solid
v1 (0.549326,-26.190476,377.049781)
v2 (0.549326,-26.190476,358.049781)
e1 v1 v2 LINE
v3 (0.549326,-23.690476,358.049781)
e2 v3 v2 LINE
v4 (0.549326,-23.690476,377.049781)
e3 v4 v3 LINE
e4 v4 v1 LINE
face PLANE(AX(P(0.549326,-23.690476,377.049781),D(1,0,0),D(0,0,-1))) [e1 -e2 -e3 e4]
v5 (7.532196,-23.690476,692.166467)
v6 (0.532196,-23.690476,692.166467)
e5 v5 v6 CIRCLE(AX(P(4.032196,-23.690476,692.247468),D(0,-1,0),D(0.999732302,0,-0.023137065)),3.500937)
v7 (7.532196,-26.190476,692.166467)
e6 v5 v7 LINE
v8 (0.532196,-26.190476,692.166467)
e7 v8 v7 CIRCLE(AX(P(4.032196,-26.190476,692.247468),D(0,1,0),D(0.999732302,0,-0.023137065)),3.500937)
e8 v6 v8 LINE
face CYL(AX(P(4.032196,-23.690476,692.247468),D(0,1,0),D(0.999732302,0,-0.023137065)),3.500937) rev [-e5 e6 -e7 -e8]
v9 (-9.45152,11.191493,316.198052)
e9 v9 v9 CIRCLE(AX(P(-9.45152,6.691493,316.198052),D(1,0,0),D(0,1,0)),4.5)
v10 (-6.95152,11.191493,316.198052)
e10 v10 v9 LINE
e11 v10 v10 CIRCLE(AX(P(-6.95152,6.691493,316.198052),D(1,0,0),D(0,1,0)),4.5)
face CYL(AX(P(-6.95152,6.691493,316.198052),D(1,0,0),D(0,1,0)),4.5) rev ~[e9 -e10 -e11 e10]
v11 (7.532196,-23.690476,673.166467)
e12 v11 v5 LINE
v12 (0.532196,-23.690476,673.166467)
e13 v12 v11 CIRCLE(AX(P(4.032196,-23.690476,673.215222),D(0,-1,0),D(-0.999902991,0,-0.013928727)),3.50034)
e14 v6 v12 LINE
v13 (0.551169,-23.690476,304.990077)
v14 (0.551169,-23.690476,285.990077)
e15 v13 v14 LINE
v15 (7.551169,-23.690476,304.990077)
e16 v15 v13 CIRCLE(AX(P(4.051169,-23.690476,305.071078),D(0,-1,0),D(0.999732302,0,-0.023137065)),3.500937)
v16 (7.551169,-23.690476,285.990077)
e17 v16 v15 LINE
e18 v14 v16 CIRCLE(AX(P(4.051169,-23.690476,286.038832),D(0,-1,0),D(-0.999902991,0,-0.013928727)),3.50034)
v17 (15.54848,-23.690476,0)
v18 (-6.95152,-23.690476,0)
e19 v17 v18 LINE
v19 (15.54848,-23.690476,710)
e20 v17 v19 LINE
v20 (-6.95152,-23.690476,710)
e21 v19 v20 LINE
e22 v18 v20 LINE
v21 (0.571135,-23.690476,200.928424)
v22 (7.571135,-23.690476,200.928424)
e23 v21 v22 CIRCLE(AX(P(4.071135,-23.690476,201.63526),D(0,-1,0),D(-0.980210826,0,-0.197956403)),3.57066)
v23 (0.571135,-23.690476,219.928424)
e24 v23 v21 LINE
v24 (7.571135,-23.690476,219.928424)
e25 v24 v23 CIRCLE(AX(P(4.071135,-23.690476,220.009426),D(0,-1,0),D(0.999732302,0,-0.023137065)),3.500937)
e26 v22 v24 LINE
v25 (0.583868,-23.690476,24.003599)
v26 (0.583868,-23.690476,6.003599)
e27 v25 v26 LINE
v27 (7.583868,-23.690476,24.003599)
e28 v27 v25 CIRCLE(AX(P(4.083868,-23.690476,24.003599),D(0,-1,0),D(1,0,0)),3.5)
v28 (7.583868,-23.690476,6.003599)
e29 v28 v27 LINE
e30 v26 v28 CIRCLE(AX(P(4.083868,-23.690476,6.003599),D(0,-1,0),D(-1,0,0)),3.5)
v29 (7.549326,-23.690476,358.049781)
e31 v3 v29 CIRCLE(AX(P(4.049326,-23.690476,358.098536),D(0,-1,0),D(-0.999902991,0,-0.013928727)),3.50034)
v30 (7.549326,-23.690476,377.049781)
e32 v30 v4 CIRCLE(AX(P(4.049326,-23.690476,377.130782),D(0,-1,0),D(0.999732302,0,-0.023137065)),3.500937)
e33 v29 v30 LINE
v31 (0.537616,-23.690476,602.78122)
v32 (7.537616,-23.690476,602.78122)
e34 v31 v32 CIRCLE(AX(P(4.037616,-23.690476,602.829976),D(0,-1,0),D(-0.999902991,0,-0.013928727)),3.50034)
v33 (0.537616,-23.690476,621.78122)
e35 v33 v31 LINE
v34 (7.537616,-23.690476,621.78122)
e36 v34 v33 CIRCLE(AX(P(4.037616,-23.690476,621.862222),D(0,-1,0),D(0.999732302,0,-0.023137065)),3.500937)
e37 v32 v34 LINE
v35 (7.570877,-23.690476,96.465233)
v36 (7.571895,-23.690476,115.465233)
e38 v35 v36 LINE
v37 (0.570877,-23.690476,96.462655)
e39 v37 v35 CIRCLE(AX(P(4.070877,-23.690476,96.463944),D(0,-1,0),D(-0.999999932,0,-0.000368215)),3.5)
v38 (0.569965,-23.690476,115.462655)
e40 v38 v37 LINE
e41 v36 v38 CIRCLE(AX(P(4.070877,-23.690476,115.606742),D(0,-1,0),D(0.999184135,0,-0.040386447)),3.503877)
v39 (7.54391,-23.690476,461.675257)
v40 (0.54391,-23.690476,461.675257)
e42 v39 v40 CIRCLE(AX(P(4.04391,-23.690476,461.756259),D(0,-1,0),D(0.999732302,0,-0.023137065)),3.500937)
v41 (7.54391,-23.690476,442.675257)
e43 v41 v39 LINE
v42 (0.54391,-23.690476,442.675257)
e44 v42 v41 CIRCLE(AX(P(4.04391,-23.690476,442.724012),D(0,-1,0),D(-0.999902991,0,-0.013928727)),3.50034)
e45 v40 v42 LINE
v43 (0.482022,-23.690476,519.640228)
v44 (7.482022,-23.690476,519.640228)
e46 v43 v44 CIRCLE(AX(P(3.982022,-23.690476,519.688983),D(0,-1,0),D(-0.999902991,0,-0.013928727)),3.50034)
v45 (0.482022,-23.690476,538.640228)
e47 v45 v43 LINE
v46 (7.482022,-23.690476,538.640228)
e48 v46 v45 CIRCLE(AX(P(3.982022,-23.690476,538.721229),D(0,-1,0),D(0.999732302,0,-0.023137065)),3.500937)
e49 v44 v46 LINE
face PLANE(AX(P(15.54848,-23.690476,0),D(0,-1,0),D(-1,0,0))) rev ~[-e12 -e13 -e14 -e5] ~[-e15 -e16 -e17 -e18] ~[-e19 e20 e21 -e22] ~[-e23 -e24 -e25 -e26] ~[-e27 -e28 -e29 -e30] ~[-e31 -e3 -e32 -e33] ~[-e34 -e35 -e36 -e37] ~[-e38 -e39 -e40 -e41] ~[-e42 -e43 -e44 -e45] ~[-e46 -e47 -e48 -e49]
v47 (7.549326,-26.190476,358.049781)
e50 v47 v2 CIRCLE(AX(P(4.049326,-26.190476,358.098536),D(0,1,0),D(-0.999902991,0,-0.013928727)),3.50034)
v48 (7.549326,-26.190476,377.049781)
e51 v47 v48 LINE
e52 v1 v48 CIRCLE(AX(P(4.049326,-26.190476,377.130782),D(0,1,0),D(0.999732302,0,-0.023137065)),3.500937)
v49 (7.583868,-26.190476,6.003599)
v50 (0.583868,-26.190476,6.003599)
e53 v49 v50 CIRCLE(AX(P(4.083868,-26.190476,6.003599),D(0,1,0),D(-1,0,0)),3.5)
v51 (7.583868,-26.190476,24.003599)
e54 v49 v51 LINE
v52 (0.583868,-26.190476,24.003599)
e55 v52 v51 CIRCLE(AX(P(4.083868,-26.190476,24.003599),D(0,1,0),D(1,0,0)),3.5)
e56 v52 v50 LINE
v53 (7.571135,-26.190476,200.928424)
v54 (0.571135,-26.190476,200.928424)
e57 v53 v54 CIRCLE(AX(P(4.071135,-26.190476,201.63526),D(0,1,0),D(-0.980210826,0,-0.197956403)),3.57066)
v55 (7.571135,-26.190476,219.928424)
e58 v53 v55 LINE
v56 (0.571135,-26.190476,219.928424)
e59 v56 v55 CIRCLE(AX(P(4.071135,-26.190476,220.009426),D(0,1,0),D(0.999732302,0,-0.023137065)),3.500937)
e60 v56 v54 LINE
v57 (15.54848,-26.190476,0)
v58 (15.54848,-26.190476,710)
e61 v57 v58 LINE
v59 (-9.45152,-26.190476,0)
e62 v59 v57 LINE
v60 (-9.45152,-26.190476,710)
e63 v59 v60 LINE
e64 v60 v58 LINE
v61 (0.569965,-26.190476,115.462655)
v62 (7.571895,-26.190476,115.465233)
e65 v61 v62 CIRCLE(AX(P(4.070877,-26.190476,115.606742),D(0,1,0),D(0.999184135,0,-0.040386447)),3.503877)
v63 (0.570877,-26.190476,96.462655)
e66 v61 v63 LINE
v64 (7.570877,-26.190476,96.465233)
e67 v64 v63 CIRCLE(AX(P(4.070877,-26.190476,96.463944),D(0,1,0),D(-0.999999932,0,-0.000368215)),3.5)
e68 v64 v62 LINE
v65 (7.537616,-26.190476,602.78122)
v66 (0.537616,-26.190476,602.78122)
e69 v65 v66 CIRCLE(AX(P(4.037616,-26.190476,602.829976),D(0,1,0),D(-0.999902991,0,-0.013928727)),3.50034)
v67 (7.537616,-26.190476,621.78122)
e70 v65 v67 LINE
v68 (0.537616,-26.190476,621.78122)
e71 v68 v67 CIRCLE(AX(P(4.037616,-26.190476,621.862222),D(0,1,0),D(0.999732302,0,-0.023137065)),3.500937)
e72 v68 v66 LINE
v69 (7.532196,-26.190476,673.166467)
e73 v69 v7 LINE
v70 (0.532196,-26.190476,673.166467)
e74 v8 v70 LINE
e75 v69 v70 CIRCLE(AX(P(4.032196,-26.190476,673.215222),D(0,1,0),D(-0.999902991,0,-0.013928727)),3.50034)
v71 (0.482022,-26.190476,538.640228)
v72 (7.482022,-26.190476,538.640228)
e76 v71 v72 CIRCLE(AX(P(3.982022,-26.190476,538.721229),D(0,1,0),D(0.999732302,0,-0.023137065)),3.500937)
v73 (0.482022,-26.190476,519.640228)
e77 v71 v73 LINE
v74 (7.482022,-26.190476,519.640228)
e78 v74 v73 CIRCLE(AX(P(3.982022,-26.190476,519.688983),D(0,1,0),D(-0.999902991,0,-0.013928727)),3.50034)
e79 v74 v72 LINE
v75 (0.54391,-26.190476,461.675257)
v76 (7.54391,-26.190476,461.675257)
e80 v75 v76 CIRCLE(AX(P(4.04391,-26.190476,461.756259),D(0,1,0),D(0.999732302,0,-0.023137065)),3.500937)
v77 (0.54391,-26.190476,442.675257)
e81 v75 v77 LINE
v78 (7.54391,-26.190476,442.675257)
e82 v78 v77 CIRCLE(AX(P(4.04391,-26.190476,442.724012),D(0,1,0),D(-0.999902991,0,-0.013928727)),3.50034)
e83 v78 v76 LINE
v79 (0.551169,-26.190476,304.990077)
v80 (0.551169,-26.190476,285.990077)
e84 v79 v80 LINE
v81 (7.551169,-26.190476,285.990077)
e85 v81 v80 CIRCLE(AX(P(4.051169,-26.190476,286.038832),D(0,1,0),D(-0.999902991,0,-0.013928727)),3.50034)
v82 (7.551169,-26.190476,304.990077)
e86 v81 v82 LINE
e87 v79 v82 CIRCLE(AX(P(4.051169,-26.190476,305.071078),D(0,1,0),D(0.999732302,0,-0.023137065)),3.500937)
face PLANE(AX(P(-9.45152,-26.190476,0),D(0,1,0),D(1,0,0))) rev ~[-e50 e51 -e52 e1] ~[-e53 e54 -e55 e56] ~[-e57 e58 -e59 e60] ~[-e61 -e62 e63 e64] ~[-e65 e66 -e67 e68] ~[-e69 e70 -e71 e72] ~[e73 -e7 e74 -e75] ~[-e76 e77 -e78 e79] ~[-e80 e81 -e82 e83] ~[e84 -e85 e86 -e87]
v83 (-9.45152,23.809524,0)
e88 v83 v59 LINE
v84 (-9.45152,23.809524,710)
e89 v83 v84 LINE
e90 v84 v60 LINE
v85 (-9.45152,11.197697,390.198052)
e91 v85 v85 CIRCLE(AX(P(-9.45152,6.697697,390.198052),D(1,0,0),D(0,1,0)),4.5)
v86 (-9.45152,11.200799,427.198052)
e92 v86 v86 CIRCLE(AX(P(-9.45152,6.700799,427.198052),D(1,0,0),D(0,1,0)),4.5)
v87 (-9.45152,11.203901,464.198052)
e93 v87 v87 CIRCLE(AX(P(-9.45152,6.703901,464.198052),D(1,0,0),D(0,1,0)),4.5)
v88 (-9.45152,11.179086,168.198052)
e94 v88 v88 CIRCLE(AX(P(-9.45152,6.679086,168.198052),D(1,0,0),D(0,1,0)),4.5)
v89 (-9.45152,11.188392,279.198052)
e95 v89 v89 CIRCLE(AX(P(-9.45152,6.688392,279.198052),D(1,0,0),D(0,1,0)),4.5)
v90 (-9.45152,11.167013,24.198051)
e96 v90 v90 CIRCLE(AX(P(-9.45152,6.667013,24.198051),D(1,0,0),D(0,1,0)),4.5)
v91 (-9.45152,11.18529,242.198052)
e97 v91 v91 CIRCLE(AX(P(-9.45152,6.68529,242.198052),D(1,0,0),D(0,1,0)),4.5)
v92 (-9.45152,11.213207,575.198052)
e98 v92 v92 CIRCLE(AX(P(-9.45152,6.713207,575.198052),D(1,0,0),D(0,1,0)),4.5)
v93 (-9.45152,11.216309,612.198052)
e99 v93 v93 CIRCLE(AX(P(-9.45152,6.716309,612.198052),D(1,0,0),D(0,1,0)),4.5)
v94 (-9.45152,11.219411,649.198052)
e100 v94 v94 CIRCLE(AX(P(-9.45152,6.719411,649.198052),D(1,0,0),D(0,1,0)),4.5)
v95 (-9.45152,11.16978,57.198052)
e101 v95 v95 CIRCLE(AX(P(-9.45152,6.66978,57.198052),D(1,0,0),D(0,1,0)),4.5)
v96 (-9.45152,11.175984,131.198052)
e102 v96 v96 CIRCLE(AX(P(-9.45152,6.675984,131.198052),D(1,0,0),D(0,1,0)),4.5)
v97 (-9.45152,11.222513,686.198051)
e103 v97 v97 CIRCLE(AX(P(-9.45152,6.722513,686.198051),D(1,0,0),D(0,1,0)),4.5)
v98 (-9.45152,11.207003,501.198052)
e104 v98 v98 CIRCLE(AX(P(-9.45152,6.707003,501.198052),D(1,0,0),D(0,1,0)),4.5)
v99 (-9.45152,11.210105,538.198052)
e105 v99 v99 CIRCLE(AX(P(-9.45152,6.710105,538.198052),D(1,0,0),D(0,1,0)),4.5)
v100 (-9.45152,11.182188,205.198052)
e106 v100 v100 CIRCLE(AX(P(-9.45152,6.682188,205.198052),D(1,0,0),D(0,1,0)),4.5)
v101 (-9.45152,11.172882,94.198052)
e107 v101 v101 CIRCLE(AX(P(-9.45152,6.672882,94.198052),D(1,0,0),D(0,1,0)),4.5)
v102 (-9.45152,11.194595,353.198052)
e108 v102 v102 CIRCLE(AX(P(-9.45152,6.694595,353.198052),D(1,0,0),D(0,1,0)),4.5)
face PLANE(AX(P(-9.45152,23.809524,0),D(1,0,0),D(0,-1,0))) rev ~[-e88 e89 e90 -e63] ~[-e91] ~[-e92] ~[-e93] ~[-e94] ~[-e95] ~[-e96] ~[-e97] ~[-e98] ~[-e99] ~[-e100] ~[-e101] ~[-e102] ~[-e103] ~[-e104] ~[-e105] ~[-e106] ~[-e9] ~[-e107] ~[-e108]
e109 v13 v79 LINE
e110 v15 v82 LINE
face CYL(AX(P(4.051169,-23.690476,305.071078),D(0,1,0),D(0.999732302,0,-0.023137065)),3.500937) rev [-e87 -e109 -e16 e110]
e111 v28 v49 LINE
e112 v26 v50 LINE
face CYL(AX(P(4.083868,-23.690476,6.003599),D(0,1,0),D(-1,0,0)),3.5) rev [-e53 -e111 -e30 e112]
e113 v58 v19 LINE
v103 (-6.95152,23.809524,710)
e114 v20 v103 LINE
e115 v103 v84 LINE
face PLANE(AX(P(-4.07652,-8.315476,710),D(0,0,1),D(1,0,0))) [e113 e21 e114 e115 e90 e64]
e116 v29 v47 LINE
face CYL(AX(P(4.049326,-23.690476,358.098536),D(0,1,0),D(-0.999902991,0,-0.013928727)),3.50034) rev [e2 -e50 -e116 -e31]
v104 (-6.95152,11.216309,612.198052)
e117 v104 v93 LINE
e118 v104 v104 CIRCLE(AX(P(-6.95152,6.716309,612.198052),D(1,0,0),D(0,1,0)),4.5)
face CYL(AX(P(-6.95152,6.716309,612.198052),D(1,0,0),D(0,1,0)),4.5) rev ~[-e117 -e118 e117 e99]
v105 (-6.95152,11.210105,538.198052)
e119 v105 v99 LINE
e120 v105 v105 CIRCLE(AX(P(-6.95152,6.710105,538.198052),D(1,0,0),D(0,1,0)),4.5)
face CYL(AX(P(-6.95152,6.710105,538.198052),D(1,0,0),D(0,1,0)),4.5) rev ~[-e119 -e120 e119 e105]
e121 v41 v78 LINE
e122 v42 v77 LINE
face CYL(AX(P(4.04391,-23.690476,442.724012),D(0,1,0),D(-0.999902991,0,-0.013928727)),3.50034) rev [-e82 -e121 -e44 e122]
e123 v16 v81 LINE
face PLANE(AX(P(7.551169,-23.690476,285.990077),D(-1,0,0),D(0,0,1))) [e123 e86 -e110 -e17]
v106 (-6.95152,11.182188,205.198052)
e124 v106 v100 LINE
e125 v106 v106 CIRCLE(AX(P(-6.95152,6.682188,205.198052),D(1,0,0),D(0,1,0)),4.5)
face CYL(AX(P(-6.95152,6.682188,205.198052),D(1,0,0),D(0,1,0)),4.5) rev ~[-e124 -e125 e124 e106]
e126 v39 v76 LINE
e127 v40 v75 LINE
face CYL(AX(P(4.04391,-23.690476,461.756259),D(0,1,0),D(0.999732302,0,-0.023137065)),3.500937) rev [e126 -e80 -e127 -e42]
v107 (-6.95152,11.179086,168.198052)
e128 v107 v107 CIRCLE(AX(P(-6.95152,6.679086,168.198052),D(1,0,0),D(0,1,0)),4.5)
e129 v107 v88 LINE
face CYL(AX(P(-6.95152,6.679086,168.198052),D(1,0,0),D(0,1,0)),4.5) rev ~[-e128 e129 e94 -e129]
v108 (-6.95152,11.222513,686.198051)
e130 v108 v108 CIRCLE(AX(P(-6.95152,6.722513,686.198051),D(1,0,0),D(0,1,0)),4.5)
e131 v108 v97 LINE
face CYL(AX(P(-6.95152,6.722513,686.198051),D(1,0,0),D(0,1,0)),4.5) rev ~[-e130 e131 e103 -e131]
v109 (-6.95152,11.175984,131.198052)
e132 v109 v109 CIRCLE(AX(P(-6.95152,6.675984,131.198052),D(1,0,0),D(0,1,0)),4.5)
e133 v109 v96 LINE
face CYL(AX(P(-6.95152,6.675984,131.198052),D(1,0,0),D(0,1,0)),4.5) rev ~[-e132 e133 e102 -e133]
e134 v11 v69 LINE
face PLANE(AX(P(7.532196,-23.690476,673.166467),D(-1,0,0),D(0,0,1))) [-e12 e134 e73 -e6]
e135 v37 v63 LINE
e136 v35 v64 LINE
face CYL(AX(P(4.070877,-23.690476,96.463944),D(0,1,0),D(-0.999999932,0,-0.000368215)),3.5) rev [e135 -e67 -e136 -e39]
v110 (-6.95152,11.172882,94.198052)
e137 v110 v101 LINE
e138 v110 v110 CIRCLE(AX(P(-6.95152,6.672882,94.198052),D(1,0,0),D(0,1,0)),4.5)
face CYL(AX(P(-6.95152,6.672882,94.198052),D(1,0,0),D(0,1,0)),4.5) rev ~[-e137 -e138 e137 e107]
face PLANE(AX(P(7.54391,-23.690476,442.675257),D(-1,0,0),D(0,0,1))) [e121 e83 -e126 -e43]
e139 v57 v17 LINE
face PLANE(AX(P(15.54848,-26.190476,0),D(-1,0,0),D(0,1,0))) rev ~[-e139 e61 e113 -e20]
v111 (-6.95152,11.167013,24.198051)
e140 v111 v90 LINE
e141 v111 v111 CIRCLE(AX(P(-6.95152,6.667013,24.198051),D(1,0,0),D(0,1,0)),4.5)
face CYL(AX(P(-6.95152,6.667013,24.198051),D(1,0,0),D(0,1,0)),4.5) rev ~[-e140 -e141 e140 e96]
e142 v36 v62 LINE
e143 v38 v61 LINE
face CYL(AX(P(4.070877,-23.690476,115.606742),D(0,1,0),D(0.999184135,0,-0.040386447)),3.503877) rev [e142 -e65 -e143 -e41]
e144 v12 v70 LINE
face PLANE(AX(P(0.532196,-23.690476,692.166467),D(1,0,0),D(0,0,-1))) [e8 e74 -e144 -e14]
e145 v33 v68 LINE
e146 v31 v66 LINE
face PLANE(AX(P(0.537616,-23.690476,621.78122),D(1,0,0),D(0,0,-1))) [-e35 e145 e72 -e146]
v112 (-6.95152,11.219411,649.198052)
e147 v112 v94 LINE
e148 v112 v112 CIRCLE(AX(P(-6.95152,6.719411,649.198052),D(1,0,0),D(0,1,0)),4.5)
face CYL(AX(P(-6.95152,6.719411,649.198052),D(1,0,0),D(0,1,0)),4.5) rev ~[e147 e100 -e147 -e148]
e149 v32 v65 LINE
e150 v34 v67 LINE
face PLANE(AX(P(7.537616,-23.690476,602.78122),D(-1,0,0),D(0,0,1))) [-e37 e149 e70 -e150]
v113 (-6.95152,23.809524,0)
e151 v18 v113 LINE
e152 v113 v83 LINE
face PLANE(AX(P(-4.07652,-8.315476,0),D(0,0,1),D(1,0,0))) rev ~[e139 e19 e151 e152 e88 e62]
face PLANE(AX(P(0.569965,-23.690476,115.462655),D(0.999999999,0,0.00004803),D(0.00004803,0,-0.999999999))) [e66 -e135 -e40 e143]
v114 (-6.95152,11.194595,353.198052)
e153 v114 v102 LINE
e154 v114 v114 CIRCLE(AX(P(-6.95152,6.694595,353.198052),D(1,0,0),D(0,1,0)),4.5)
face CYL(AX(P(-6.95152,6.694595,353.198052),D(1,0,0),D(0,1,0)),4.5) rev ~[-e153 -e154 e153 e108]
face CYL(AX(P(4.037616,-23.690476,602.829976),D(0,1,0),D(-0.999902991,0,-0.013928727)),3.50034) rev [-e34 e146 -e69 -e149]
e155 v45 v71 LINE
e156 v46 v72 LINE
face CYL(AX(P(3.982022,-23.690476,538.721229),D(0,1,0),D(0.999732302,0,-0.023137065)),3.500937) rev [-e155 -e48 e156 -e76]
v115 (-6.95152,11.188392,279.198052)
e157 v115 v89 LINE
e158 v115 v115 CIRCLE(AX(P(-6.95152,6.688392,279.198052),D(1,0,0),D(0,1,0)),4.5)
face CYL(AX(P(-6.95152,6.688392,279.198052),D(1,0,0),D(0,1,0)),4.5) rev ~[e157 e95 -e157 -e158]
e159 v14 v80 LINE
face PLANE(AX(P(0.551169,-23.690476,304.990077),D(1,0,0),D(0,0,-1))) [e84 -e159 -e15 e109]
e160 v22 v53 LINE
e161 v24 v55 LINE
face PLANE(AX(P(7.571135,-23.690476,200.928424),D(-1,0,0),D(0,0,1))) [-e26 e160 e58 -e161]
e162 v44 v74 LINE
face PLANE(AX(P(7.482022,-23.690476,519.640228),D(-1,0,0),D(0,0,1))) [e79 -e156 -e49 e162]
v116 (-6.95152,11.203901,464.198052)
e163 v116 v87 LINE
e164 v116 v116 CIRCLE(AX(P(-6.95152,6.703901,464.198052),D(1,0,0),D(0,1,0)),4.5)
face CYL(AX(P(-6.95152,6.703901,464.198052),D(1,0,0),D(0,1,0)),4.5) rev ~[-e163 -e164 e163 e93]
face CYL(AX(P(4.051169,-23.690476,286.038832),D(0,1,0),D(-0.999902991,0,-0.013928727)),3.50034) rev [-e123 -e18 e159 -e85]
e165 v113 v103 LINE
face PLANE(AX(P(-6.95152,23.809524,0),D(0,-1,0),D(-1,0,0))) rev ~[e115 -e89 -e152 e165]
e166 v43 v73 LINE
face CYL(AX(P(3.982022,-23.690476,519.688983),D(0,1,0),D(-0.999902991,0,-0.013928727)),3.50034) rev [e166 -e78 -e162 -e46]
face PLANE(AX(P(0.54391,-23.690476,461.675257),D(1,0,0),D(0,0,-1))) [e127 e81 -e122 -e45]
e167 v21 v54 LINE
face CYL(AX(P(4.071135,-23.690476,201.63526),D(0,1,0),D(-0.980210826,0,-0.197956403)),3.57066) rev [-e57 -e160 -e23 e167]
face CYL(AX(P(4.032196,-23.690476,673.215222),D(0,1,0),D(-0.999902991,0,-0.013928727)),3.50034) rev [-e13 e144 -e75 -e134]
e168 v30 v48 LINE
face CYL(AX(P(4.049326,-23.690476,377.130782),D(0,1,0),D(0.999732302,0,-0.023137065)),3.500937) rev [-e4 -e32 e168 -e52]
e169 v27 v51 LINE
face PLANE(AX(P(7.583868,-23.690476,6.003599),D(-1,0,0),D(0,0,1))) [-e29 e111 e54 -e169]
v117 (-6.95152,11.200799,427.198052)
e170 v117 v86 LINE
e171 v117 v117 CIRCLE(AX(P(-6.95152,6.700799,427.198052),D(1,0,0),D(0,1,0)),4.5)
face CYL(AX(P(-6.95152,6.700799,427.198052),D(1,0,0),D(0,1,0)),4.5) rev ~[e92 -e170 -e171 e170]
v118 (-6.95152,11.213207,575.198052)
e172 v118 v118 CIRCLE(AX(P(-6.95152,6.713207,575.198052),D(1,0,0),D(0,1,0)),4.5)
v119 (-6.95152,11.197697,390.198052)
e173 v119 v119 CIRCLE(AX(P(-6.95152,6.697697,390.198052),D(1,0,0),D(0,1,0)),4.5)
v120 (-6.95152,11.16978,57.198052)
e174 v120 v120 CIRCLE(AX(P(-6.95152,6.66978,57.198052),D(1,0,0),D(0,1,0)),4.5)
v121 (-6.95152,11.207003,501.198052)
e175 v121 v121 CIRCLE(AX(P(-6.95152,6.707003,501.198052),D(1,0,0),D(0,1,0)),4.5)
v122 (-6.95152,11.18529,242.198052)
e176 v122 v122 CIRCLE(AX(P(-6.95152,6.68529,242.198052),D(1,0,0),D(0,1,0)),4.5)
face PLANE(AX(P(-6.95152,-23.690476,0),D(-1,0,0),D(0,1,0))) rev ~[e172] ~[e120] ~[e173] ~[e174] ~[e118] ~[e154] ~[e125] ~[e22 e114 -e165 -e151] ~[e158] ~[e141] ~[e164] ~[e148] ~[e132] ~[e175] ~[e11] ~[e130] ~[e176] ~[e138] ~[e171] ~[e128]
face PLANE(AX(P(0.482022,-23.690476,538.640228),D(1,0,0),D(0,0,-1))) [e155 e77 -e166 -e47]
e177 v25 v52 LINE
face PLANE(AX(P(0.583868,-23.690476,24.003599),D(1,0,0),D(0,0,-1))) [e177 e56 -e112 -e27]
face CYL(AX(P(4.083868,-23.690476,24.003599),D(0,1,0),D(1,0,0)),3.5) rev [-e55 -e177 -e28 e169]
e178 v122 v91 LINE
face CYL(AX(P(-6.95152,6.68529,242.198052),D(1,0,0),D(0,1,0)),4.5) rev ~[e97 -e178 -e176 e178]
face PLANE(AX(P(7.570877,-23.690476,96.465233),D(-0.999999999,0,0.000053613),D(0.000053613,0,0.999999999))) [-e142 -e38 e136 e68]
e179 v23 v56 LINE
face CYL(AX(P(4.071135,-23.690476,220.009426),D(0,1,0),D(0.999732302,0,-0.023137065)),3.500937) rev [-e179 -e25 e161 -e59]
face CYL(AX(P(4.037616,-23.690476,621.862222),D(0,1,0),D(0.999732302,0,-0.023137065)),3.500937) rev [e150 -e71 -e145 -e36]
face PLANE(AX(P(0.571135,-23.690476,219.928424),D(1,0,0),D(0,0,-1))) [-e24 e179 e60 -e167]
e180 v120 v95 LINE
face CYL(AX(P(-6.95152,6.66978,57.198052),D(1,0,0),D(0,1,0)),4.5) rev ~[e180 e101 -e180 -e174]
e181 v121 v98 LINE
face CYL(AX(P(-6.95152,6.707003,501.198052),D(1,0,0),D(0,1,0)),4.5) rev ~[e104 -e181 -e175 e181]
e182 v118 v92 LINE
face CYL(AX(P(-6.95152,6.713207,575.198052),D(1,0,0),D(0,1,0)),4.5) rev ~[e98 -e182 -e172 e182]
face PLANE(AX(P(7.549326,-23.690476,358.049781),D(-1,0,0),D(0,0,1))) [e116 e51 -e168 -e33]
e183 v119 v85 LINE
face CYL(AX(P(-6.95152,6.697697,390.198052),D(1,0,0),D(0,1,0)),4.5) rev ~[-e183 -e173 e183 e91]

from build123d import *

# Parameters (mm, degrees)
BOSS_EXTRUDE1_DEPTH = 710
CUT_EXTRUDE2_DEPTH  = 10
SKETCH2_R           = 4.5
CUT_EXTRUDE3_DEPTH  = 10


with BuildPart() as part:
    # Sketch1 → Boss-Extrude1 (new body)
    with BuildSketch(Plane.XY):
        Polygon((-9.451520251, 23.80952381), (-9.451520251, -26.19047619), (15.548479749, -26.19047619), (15.548479749, -23.69047619), (-6.951520251, -23.69047619), (-6.951520251, 23.80952381), align=None)
    extrude(amount=BOSS_EXTRUDE1_DEPTH)

    # Sketch3 → Cut-Extrude2 (cut)
    with BuildSketch(Plane(origin=(0, -23.69047619, 0), x_dir=(1, 0, 0), z_dir=(0, 1, 0))):
        with BuildLine():
            Line((0.571135038, -219.92842441), (0.571135038, -200.92842441))
            ThreePointArc((0.571135038, -200.92842441), (4.071135038, -198.06459908), (7.571135038, -200.92842441))
            Line((7.571135038, -200.92842441), (7.571135038, -219.92842441))
            ThreePointArc((7.571135038, -219.92842441), (4.071135038, -223.510363015), (0.571135038, -219.92842441))
        make_face()
        with BuildLine():
            Line((0.569964611, -115.462655238), (0.570877182, -96.46265526))
            ThreePointArc((0.570877182, -96.46265526), (4.072165698, -92.963944251), (7.570876708, -96.465232767))
            Line((7.570876708, -96.465232767), (7.571895363, -115.465232739))
            ThreePointArc((7.571895363, -115.465232739), (4.069587599, -119.110618262), (0.569964611, -115.462655238))
        make_face()
        with BuildLine():
            Line((0.583868221, -24.003598612), (0.583868221, -6.003598612))
            ThreePointArc((0.583868221, -6.003598612), (4.083868221, -2.503598612), (7.583868221, -6.003598612))
            Line((7.583868221, -6.003598612), (7.583868221, -24.003598612))
            ThreePointArc((7.583868221, -24.003598612), (4.083868221, -27.503598612), (0.583868221, -24.003598612))
        make_face()
        with BuildLine():
            Line((0.551168836, -304.990076897), (0.551168836, -285.990076897))
            ThreePointArc((0.551168836, -285.990076897), (4.051168836, -282.538492606), (7.551168836, -285.990076897))
            Line((7.551168836, -285.990076897), (7.551168836, -304.990076897))
            ThreePointArc((7.551168836, -304.990076897), (4.051168836, -308.572015501), (0.551168836, -304.990076897))
        make_face()
        with BuildLine():
            Line((0.549325866, -377.049780646), (0.549325866, -358.049780646))
            ThreePointArc((0.549325866, -358.049780646), (4.049325866, -354.598196355), (7.549325866, -358.049780646))
            Line((7.549325866, -358.049780646), (7.549325866, -377.049780646))
            ThreePointArc((7.549325866, -377.049780646), (4.049325866, -380.63171925), (0.549325866, -377.049780646))
        make_face()
        with BuildLine():
            Line((0.543910271, -461.67525715), (0.543910271, -442.67525715))
            ThreePointArc((0.543910271, -442.67525715), (4.043910271, -439.223672859), (7.543910271, -442.67525715))
            Line((7.543910271, -442.67525715), (7.543910271, -461.67525715))
            ThreePointArc((7.543910271, -461.67525715), (4.043910271, -465.257195754), (0.543910271, -461.67525715))
        make_face()
        with BuildLine():
            Line((0.482021973, -538.640227915), (0.482021973, -519.640227915))
            ThreePointArc((0.482021973, -519.640227915), (3.982021973, -516.188643625), (7.482021973, -519.640227915))
            Line((7.482021973, -519.640227915), (7.482021973, -538.640227915))
            ThreePointArc((7.482021973, -538.640227915), (3.982021973, -542.22216652), (0.482021973, -538.640227915))
        make_face()
        with BuildLine():
            Line((0.537615818, -621.781220279), (0.537615818, -602.781220279))
            ThreePointArc((0.537615818, -602.781220279), (4.037615818, -599.329635989), (7.537615818, -602.781220279))
            Line((7.537615818, -602.781220279), (7.537615818, -621.781220279))
            ThreePointArc((7.537615818, -621.781220279), (4.037615818, -625.363158884), (0.537615818, -621.781220279))
        make_face()
        with BuildLine():
            Line((0.532196004, -692.166466569), (0.532196004, -673.166466569))
            ThreePointArc((0.532196004, -673.166466569), (4.032196004, -669.714882279), (7.532196004, -673.166466569))
            Line((7.532196004, -673.166466569), (7.532196004, -692.166466569))
            ThreePointArc((7.532196004, -692.166466569), (4.032196004, -695.748405174), (0.532196004, -692.166466569))
        make_face()
    extrude(amount=-CUT_EXTRUDE2_DEPTH, mode=Mode.SUBTRACT)

    # Sketch2 → Cut-Extrude3 (cut)
    with BuildSketch(Plane(origin=(-6.951520251, 0, 0), x_dir=(0, 0, -1), z_dir=(1, 0, 0))):
        with Locations(Location((-649.198051525, 6.719410966, 0), (0, 0, 90))):
            Circle(SKETCH2_R)
        with Locations(Location((-612.198051525, 6.716309021, 0), (0, 0, 90))):
            Circle(SKETCH2_R)
        with Locations(Location((-575.198051525, 6.713207076, 0), (0, 0, 90))):
            Circle(SKETCH2_R)
        with Locations(Location((-242.198051785, 6.685289571, 0), (0, 0, 90))):
            Circle(SKETCH2_R)
        with Locations(Location((-279.198051785, 6.688391516, 0), (0, 0, 90))):
            Circle(SKETCH2_R)
        with Locations(Location((-538.198051525, 6.710105131, 0), (0, 0, 90))):
            Circle(SKETCH2_R)
        with Locations(Location((-501.198051525, 6.707003186, 0), (0, 0, 90))):
            Circle(SKETCH2_R)
        with Locations(Location((-464.198051525, 6.703901241, 0), (0, 0, 90))):
            Circle(SKETCH2_R)
        with Locations(Location((-427.198051525, 6.700799296, 0), (0, 0, 90))):
            Circle(SKETCH2_R)
        with Locations(Location((-390.198051525, 6.697697351, 0), (0, 0, 90))):
            Circle(SKETCH2_R)
        with Locations(Location((-353.198051655, 6.694595406, 0), (0, 0, 90))):
            Circle(SKETCH2_R)
        with Locations(Location((-316.198051785, 6.691493461, 0), (0, 0, 90))):
            Circle(SKETCH2_R)
        with Locations(Location((-686.198051395, 6.722512911, 0), (0, 0, 90))):
            Circle(SKETCH2_R)
        with Locations(Location((-24.198051395, 6.667013246, 0), (0, 0, 90))):
            Circle(SKETCH2_R)
        with Locations(Location((-57.198052435, 6.669779846, 0), (0, 0, 90))):
            Circle(SKETCH2_R)
        with Locations(Location((-205.198051915, 6.682187626, 0), (0, 0, 90))):
            Circle(SKETCH2_R)
        with Locations(Location((-168.198052045, 6.679085681, 0), (0, 0, 90))):
            Circle(SKETCH2_R)
        with Locations(Location((-131.198052175, 6.675983736, 0), (0, 0, 90))):
            Circle(SKETCH2_R)
        with Locations(Location((-94.198052305, 6.672881791, 0), (0, 0, 90))):
            Circle(SKETCH2_R)
    extrude(amount=-CUT_EXTRUDE3_DEPTH, mode=Mode.SUBTRACT)


solid = part.part
